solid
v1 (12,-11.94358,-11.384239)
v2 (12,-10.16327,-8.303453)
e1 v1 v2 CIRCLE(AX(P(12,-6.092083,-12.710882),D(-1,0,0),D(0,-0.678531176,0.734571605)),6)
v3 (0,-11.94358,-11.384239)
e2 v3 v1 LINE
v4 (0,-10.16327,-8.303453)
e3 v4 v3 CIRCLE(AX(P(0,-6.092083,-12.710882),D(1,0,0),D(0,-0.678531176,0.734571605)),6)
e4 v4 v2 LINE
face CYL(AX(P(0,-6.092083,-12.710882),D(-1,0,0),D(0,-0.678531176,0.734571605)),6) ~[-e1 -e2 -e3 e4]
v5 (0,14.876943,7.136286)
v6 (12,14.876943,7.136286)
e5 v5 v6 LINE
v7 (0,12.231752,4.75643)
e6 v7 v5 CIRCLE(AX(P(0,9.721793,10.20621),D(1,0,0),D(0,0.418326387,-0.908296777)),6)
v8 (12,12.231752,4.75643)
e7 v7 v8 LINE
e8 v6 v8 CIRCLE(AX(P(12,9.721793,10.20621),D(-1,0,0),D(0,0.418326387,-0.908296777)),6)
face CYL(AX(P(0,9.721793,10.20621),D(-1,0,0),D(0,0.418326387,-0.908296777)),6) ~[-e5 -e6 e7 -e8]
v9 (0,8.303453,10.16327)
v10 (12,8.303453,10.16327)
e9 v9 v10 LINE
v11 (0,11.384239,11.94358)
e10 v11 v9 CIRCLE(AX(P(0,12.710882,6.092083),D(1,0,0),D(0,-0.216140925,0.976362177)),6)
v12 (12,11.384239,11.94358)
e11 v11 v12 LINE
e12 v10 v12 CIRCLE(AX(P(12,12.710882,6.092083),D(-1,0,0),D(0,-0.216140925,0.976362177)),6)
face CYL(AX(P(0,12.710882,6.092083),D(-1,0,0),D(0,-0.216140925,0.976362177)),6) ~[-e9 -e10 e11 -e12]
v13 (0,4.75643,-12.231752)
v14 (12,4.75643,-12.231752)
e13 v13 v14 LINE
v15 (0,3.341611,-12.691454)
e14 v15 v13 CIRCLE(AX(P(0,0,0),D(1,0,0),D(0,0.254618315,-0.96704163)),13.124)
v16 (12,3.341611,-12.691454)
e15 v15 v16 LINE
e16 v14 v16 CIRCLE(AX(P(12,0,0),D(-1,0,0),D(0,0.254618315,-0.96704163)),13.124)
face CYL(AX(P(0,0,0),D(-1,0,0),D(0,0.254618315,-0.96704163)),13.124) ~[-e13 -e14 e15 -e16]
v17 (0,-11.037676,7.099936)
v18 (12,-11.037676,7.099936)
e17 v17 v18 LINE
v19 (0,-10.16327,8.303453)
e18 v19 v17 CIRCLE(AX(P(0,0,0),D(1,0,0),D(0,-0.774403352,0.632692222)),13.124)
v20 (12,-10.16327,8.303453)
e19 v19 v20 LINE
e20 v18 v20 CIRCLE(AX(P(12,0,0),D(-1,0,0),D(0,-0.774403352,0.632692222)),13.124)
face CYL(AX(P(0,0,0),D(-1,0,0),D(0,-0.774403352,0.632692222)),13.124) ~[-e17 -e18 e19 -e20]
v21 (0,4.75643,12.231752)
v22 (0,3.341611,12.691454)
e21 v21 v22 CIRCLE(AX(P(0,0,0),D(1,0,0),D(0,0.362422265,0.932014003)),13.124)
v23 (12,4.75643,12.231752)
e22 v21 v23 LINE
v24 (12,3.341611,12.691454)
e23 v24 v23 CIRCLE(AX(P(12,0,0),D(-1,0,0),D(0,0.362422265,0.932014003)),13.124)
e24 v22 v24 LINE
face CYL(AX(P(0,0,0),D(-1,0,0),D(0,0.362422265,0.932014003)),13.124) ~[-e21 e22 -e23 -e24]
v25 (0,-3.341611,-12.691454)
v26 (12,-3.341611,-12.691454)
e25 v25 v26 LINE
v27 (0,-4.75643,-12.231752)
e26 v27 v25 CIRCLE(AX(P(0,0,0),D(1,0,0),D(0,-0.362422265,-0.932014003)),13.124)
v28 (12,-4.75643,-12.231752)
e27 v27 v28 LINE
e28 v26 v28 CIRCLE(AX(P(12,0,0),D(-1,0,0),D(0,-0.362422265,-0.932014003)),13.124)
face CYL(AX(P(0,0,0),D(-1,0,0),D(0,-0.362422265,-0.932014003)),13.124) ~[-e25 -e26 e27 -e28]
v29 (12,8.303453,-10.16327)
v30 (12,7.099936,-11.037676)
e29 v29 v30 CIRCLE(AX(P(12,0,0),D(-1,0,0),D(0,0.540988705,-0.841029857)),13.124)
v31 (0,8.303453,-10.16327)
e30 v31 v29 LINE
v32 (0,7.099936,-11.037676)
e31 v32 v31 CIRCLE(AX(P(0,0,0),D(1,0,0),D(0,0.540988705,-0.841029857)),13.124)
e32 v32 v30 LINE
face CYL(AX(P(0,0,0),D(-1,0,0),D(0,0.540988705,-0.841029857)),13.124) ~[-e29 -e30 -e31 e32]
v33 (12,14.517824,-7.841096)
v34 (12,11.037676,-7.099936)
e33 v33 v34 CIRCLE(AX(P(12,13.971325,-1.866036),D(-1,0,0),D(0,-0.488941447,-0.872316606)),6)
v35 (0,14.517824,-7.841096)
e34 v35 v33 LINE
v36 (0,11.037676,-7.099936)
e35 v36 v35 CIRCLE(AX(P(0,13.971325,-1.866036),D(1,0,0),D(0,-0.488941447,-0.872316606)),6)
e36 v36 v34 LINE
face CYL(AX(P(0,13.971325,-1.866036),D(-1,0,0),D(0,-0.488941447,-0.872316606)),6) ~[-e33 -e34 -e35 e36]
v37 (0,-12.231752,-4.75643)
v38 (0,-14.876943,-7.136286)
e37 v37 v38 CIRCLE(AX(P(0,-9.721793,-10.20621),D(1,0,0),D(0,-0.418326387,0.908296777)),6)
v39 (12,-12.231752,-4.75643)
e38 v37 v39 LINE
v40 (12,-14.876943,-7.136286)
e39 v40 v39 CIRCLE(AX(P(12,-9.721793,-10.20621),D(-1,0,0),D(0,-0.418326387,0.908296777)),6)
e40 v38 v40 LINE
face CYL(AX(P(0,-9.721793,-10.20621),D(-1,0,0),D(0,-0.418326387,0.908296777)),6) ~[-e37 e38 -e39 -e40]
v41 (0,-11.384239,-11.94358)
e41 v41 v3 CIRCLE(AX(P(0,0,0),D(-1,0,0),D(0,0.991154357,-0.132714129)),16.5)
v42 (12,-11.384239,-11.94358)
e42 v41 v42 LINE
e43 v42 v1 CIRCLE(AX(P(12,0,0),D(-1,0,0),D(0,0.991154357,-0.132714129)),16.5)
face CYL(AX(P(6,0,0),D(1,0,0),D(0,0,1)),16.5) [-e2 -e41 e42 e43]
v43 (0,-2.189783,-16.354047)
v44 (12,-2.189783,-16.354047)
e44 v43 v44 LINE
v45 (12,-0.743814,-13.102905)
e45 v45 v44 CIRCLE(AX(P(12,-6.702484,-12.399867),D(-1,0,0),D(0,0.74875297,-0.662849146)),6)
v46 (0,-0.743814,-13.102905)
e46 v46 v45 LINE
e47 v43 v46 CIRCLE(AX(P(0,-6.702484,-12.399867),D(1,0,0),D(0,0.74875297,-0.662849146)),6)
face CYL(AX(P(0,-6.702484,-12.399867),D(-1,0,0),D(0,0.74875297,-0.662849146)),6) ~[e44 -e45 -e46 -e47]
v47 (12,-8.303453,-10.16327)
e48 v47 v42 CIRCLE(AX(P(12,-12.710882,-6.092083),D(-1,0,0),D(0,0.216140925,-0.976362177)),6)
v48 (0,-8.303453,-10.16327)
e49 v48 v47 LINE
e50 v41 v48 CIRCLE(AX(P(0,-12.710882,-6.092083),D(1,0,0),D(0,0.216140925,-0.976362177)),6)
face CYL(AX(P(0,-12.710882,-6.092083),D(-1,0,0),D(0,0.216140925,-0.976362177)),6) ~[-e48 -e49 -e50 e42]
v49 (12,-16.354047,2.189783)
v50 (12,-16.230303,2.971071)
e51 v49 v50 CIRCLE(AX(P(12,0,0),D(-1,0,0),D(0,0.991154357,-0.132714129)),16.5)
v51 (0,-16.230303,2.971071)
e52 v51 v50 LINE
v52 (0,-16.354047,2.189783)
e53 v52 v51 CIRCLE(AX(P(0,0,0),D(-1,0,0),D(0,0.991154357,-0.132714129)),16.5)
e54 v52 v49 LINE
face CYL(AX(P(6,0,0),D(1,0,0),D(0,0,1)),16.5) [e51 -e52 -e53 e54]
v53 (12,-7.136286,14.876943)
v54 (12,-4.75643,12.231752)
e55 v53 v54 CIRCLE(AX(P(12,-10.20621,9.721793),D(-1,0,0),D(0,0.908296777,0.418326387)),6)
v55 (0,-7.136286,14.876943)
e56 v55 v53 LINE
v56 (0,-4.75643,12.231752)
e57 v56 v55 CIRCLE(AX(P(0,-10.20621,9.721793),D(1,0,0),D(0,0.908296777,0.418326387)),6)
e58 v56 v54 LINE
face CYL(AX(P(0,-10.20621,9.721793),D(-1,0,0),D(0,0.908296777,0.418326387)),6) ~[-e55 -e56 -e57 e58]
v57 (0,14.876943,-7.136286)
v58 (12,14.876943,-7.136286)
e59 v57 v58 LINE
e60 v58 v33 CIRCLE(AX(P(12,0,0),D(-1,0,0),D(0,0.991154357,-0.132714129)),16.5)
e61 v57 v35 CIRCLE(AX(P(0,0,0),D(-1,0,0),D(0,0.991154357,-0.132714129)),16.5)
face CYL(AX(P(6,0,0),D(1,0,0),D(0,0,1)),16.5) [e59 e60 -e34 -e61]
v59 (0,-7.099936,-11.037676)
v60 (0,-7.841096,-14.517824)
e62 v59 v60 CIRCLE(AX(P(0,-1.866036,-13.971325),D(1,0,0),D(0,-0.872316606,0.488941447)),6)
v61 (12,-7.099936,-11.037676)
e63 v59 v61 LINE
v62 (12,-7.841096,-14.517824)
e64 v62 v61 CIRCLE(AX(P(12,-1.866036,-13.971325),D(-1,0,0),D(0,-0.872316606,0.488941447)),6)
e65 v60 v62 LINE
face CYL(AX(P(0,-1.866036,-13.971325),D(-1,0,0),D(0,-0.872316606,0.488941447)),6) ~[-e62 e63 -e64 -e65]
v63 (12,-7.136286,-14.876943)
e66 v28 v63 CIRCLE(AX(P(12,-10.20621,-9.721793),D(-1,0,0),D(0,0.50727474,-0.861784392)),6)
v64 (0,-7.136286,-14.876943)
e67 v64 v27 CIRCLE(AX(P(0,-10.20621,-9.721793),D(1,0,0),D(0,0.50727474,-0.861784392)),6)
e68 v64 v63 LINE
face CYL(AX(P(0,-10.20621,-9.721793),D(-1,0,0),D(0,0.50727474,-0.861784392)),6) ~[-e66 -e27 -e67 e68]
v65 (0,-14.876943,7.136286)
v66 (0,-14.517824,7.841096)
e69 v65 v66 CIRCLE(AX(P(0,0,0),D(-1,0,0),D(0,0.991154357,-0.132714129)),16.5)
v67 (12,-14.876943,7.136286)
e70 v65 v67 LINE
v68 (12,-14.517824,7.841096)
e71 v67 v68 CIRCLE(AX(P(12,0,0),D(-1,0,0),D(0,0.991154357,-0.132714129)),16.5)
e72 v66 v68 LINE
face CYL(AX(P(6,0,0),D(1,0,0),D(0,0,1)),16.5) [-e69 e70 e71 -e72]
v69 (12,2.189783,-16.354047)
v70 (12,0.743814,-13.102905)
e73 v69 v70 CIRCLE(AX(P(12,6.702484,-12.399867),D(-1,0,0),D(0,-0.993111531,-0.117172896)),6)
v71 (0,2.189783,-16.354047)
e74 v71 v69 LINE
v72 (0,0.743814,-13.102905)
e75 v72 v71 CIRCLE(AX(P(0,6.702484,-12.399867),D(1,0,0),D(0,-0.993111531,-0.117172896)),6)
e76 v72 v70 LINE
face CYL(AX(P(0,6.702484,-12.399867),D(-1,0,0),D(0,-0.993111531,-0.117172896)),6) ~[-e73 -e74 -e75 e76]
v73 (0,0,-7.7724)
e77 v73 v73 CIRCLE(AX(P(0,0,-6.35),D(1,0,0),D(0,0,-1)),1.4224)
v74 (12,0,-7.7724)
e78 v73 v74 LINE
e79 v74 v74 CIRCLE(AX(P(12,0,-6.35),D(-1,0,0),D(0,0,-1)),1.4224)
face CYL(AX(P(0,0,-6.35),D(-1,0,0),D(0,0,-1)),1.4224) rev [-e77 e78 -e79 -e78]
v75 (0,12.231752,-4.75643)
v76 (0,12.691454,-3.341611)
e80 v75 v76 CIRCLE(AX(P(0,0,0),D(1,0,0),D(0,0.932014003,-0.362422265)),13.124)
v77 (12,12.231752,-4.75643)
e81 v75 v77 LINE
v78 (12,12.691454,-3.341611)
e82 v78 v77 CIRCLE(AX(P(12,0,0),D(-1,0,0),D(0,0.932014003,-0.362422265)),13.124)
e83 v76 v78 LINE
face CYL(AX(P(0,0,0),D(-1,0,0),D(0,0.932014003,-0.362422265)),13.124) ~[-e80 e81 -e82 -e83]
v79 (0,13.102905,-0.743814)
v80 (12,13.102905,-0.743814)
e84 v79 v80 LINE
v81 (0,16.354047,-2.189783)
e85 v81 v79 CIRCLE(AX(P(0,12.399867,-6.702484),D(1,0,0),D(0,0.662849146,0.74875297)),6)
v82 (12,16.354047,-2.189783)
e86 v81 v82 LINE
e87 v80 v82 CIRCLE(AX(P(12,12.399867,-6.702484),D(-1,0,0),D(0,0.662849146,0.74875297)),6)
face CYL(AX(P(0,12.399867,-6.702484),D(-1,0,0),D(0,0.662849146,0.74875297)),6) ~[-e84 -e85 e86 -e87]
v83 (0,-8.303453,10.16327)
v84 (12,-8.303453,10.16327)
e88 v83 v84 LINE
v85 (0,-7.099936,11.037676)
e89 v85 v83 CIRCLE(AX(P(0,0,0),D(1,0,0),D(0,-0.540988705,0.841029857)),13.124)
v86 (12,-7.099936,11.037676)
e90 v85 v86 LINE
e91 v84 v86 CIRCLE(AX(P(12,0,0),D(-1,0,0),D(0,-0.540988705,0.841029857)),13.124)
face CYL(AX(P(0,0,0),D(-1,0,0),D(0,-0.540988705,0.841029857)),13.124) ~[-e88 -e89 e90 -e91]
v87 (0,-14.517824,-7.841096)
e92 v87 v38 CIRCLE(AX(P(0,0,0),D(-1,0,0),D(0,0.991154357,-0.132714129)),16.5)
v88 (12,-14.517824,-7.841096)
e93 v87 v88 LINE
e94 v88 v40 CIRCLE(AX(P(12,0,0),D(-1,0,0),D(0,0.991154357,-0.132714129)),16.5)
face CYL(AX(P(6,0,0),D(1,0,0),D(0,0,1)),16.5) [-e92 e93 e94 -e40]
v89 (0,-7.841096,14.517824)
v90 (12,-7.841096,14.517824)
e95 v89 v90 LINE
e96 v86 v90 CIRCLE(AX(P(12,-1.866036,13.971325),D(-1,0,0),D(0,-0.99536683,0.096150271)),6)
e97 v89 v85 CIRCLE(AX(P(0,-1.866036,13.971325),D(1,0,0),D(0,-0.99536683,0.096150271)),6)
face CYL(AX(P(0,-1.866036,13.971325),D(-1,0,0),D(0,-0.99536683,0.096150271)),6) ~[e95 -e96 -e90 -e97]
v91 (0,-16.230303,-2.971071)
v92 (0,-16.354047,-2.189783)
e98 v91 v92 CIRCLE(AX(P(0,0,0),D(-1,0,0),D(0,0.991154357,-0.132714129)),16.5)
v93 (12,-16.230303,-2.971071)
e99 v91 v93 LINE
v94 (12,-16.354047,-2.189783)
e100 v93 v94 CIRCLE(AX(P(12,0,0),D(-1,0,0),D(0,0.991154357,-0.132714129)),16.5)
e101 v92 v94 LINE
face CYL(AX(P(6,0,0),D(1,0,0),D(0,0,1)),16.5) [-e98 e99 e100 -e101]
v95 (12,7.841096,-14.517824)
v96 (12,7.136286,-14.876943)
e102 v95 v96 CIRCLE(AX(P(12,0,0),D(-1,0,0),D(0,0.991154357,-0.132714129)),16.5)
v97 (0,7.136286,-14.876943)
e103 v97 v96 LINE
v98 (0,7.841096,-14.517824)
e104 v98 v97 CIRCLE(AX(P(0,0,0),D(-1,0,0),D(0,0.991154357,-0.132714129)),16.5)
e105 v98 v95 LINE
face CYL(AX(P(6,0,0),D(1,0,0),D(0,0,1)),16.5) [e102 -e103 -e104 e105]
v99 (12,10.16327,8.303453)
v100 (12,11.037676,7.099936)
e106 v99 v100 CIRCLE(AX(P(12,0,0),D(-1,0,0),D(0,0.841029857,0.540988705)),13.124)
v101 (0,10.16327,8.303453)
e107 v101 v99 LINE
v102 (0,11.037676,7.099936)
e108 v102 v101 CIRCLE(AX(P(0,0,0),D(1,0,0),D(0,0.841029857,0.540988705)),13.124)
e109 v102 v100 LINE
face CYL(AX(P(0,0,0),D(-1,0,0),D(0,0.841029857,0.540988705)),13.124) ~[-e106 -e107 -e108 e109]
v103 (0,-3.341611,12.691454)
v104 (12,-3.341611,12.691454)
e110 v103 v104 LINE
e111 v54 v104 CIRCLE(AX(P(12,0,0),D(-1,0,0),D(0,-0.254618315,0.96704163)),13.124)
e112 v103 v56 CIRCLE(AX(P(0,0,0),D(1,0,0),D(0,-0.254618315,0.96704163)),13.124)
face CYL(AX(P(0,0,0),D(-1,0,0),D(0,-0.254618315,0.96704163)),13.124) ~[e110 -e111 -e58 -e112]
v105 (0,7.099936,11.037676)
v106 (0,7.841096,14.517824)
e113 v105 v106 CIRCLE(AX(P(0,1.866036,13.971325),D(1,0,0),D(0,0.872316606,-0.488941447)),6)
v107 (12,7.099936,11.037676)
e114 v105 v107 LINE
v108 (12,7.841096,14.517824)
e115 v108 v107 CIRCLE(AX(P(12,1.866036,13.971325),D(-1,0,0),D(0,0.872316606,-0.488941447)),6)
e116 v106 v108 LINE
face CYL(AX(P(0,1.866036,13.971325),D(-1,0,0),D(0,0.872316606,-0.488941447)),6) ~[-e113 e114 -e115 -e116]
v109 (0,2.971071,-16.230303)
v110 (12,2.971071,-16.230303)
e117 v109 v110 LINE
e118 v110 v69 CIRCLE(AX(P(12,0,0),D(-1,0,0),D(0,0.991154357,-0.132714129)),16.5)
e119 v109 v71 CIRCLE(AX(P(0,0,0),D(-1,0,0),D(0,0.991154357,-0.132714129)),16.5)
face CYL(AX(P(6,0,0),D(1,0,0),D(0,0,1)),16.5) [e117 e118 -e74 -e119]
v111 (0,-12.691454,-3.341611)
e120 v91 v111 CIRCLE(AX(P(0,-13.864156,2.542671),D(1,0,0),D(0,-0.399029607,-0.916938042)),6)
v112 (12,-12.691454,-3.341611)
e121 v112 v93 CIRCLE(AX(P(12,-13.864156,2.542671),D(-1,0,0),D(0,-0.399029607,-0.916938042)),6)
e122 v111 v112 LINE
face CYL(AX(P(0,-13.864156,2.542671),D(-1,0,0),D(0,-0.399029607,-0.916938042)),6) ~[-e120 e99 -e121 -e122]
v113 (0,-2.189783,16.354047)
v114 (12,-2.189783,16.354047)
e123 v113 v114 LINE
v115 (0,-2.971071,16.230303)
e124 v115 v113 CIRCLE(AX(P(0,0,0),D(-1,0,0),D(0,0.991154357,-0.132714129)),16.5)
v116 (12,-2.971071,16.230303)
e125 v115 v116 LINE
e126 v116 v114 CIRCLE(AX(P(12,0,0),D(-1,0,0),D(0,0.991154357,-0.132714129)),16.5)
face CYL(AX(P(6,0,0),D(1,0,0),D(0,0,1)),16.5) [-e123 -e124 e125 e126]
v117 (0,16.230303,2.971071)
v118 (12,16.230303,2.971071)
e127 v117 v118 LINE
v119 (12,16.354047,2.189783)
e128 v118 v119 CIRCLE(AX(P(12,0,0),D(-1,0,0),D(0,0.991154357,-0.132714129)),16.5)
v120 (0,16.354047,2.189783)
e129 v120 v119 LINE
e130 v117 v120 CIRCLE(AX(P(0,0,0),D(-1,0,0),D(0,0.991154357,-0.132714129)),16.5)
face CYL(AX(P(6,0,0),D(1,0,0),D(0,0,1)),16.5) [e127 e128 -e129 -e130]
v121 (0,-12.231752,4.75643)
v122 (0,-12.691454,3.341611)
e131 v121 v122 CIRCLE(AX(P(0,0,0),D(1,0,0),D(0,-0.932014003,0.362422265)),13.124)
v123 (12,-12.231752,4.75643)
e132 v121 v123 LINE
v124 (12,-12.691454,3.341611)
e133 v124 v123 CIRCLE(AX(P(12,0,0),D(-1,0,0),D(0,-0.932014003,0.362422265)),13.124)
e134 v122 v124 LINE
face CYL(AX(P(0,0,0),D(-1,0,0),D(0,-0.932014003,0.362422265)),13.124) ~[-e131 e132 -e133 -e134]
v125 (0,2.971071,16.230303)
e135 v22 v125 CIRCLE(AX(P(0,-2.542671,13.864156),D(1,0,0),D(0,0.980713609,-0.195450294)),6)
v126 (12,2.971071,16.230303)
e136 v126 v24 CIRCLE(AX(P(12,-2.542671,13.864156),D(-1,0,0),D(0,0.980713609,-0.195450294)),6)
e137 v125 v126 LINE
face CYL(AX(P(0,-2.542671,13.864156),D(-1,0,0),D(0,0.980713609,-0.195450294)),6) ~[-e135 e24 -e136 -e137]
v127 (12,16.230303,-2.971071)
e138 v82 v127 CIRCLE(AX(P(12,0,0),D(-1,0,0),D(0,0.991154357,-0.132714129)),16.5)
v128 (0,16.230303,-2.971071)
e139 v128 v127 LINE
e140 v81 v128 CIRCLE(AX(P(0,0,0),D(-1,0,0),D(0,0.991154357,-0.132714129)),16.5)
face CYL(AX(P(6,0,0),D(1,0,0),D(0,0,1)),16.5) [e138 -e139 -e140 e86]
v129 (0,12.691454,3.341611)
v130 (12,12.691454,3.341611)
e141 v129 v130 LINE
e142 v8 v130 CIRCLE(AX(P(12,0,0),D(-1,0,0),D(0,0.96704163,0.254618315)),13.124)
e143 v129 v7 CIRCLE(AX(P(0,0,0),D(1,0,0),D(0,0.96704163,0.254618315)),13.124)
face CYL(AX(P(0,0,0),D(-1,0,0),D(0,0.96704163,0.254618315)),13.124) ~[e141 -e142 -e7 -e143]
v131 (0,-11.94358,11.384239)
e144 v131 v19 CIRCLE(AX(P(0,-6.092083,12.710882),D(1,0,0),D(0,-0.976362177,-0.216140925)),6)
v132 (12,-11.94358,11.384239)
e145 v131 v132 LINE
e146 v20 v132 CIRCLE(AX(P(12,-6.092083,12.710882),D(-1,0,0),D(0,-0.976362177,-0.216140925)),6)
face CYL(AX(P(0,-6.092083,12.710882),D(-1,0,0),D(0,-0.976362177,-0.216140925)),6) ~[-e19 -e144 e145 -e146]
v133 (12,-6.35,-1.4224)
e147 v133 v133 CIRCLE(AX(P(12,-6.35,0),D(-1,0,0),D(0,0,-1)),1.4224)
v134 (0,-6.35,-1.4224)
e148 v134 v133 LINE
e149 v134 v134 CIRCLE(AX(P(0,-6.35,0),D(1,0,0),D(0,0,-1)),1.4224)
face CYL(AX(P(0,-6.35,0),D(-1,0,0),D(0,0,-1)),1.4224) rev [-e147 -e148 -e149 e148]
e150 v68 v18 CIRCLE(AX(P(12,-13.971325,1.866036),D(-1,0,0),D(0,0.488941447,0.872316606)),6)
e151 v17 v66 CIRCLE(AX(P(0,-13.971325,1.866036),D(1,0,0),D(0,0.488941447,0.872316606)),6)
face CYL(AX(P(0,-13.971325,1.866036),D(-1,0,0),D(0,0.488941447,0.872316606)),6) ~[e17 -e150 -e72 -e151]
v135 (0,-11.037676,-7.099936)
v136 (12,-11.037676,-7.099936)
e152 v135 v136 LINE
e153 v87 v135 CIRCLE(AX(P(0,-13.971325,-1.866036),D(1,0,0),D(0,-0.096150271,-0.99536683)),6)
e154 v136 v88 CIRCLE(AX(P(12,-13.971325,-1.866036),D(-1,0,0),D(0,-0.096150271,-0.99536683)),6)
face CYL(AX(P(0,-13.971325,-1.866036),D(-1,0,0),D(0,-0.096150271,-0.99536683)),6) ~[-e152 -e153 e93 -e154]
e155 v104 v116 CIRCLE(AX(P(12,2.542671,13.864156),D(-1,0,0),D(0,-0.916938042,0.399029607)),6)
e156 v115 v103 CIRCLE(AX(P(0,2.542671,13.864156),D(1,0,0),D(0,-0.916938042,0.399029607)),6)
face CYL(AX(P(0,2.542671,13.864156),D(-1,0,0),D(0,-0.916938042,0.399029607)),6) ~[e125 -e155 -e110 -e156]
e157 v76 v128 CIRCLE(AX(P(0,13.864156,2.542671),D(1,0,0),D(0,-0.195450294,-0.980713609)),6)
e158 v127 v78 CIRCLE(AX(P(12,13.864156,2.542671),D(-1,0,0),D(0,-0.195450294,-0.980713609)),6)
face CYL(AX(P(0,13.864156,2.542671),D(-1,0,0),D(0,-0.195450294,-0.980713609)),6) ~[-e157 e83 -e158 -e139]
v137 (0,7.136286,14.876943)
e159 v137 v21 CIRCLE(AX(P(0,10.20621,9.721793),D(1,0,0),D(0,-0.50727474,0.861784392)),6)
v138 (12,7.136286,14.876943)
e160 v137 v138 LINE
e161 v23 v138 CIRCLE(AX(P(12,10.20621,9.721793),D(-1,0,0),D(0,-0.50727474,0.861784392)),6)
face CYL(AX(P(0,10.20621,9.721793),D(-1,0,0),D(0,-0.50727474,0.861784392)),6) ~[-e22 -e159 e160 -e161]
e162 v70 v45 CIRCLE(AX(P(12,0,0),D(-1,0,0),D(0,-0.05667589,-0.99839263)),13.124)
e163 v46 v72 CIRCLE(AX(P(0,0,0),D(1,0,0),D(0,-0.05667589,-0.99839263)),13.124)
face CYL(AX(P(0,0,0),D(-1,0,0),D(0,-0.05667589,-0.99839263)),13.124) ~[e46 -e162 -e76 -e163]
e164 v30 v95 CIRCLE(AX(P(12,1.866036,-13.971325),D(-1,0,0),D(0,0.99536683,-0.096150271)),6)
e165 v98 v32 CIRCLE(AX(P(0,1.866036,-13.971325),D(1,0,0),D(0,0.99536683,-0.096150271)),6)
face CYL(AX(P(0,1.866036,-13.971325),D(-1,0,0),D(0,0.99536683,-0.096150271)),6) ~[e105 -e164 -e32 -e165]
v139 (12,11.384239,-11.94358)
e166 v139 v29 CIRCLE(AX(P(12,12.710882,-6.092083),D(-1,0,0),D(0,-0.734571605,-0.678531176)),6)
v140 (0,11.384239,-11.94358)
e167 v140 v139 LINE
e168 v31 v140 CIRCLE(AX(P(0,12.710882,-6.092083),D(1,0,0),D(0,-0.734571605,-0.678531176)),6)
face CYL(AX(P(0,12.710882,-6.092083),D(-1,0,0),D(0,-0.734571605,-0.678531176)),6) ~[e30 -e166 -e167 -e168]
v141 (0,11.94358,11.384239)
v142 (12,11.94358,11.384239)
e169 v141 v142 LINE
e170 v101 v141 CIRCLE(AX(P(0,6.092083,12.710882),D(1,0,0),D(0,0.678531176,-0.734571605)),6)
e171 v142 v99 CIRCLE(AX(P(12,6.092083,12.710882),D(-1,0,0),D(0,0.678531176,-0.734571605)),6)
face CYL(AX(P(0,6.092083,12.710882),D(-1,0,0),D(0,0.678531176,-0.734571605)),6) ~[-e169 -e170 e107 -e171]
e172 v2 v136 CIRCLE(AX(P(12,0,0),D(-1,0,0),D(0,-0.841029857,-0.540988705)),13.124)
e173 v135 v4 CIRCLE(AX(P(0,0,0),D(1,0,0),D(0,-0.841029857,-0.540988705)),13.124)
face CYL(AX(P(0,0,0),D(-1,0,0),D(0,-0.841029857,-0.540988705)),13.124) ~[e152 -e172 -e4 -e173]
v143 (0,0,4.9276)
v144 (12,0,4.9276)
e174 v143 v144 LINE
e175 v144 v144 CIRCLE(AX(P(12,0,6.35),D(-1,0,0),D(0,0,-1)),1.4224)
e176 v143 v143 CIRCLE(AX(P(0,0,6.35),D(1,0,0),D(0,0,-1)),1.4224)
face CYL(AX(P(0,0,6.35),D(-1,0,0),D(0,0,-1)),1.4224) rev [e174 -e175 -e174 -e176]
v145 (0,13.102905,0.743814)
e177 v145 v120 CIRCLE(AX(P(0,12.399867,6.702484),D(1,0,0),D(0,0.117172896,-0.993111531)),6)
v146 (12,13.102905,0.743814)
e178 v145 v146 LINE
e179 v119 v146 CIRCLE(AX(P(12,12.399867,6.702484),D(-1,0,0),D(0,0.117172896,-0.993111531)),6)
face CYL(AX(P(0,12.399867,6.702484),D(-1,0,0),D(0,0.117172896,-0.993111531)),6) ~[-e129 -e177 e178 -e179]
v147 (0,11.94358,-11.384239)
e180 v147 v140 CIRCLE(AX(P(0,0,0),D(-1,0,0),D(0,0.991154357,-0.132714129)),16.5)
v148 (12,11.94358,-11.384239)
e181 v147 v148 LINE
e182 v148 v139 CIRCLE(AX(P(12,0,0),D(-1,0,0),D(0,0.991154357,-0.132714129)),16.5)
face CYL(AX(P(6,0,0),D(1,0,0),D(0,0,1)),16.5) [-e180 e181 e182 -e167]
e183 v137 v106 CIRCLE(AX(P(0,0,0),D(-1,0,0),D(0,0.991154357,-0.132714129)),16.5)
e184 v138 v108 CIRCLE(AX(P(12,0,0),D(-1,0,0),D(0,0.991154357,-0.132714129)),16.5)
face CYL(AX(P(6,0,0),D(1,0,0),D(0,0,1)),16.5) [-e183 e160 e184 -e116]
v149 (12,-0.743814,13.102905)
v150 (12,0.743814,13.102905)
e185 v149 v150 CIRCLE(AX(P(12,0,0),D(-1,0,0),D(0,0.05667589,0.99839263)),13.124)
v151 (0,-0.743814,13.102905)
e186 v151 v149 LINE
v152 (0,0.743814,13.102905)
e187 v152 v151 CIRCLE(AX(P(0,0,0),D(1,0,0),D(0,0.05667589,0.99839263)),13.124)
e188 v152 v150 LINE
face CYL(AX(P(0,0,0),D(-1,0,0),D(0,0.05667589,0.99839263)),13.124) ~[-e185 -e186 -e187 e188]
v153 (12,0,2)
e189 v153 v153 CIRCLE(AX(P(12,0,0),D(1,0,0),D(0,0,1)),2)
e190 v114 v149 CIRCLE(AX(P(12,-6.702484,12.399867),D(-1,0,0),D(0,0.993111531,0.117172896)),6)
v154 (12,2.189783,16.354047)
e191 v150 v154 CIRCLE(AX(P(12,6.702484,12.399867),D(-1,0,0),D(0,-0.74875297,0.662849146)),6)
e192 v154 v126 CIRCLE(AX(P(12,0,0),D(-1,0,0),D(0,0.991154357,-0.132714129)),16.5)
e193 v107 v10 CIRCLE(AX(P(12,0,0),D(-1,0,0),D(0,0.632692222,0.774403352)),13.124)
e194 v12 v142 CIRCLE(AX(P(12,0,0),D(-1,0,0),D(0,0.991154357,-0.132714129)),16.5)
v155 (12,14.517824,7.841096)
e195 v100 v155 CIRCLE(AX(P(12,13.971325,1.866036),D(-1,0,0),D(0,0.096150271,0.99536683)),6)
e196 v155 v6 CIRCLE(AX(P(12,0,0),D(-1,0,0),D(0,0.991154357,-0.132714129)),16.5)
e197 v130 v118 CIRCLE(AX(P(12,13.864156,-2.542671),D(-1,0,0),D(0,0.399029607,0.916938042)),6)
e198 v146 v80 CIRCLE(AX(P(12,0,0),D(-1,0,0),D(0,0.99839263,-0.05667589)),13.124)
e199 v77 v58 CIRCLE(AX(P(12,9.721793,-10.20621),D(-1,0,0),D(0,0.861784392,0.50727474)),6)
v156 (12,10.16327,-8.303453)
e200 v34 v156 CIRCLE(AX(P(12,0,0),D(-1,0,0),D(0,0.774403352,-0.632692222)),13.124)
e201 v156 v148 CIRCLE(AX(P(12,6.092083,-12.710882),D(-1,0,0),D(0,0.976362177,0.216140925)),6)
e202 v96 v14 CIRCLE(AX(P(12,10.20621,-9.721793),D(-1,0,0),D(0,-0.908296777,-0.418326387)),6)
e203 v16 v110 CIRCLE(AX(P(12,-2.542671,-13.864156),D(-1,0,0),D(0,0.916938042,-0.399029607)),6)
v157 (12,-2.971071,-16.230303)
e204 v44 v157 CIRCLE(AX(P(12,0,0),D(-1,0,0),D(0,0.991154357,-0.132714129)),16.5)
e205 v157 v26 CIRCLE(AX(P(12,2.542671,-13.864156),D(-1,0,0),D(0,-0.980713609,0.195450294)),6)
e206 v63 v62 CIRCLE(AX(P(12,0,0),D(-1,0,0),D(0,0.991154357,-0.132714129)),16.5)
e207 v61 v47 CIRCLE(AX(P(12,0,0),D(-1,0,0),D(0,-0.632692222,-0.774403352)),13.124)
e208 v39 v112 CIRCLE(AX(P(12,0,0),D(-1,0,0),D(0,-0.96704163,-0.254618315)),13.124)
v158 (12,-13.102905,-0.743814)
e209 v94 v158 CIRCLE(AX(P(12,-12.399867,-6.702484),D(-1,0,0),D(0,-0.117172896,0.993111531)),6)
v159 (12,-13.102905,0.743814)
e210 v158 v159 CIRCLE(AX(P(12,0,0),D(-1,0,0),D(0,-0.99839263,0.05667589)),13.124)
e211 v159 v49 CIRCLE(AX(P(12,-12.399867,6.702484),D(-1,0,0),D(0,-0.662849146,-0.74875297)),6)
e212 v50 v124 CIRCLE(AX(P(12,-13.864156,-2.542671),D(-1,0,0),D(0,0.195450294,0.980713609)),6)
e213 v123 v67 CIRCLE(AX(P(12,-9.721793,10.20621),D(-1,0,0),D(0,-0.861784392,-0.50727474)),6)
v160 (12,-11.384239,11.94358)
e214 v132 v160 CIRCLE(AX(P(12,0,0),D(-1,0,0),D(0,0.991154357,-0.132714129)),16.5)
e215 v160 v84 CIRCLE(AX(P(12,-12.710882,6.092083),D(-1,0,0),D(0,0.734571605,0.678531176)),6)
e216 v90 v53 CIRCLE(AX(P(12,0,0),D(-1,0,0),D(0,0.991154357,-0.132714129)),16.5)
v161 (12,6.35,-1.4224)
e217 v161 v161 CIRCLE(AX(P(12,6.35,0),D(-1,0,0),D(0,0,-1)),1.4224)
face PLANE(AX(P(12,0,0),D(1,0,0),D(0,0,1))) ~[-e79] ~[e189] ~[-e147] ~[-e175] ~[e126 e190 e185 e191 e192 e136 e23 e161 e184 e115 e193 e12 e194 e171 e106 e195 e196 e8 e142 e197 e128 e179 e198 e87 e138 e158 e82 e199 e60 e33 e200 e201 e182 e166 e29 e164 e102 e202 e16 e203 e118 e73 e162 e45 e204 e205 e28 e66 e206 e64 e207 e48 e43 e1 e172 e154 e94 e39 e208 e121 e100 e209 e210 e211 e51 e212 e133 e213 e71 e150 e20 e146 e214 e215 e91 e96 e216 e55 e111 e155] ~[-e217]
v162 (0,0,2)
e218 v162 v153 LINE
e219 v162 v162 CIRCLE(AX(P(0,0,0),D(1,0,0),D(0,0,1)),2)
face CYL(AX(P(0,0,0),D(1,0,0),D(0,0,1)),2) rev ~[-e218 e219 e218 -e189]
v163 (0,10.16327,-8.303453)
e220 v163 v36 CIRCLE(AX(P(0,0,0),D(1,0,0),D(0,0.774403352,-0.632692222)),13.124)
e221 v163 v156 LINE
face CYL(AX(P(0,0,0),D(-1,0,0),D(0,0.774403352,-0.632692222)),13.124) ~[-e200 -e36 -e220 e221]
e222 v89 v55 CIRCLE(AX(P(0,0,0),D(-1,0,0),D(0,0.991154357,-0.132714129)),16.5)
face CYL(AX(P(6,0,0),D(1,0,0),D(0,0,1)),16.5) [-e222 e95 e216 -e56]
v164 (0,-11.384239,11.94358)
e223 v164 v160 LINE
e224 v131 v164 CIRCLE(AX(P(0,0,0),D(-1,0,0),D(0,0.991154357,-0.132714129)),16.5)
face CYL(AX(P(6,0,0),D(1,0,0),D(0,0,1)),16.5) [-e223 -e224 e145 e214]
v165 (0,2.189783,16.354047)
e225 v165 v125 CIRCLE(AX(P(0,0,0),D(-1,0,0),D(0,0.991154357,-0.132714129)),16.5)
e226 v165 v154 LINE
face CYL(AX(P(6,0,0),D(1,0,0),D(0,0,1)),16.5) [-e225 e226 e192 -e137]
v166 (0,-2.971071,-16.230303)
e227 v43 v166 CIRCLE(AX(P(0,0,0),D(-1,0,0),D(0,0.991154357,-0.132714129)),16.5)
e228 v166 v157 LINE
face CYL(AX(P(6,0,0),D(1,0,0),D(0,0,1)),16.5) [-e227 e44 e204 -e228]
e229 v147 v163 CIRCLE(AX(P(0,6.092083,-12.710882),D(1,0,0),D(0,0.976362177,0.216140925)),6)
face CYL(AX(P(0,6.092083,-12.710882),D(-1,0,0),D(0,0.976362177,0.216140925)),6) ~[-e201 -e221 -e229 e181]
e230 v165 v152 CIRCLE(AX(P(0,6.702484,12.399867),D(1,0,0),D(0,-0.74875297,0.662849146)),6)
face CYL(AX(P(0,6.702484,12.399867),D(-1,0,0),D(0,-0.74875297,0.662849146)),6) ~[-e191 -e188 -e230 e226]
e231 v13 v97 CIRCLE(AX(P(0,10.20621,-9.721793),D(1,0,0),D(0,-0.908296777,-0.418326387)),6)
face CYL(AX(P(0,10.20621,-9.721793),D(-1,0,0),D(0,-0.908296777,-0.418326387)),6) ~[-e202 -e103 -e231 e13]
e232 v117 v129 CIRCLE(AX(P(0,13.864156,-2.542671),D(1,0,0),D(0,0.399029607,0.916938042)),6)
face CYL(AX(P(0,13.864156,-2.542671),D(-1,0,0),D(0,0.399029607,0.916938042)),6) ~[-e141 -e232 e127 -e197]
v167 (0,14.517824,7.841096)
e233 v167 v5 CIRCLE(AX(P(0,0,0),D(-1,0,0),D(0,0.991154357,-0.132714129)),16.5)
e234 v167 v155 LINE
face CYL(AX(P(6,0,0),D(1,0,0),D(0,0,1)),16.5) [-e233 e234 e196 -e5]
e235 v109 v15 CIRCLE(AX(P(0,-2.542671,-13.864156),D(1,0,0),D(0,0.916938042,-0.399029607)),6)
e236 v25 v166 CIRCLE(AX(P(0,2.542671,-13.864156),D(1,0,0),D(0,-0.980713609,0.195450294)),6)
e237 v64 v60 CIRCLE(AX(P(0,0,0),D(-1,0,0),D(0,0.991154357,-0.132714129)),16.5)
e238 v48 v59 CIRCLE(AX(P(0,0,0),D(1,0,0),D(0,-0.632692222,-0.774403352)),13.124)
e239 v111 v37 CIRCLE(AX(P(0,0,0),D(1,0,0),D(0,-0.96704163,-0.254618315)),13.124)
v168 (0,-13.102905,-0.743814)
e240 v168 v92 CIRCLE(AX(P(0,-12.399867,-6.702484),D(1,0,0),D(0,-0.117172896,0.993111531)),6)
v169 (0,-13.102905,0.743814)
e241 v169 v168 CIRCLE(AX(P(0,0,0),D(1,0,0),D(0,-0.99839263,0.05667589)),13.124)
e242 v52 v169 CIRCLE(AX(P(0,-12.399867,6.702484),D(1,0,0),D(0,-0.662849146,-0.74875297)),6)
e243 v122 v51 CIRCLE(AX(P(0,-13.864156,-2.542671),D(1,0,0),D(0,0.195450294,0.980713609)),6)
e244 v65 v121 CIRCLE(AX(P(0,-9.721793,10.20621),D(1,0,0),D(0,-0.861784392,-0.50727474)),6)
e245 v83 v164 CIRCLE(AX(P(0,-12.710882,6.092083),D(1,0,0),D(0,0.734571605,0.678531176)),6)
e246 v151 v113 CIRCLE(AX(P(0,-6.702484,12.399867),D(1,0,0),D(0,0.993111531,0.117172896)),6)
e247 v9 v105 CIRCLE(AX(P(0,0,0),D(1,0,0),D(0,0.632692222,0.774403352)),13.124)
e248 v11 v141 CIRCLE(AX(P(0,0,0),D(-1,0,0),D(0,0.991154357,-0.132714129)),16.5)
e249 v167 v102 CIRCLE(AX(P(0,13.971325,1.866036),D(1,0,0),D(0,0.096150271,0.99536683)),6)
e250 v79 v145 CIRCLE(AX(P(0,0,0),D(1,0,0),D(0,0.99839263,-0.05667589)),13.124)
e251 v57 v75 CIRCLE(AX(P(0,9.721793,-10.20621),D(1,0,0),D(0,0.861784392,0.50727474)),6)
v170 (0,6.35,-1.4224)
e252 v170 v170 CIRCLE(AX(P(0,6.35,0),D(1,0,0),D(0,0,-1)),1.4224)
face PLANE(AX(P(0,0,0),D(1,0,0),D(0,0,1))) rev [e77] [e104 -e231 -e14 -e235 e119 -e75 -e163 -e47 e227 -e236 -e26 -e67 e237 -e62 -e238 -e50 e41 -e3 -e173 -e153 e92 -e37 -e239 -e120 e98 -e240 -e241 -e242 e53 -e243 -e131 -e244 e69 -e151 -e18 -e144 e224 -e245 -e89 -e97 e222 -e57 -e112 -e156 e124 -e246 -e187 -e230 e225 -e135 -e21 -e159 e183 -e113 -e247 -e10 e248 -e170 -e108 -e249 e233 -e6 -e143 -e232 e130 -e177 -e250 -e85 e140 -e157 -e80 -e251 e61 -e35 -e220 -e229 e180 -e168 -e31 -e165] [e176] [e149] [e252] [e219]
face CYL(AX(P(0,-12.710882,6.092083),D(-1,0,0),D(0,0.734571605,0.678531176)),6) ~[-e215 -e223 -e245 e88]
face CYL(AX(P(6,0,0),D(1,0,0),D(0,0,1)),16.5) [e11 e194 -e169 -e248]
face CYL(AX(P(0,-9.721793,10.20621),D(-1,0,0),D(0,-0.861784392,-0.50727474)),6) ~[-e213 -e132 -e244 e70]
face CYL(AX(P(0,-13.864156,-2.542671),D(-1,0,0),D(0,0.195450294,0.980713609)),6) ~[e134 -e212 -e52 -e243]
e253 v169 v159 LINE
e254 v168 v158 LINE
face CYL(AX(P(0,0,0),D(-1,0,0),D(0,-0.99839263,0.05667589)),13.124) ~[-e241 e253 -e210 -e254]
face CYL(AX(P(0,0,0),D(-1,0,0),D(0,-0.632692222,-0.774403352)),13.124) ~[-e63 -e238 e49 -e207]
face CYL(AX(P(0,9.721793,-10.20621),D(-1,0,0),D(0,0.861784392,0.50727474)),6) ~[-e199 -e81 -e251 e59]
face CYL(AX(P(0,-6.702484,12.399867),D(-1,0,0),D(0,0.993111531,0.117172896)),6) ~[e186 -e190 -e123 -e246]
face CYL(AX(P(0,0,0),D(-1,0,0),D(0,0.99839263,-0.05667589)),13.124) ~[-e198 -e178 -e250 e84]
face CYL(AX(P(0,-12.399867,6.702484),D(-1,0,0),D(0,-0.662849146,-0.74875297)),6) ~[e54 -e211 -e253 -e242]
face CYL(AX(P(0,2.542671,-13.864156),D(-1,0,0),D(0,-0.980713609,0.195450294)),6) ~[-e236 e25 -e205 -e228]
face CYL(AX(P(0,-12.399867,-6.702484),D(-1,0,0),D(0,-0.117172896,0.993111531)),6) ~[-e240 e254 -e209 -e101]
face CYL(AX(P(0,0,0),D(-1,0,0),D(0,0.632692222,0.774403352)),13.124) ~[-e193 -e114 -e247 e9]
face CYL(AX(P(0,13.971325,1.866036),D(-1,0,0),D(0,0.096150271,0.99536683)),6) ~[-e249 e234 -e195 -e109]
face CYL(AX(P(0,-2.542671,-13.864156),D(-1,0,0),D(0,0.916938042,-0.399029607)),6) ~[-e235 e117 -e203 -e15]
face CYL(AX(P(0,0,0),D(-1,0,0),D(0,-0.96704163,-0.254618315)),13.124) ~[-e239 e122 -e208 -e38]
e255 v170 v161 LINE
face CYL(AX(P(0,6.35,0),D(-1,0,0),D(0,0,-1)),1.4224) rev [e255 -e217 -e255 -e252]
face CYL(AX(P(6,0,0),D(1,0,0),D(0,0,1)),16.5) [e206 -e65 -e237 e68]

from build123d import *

# Parameters (mm, degrees)
BASPROSKE_W        = 12
BASPROSKE_H        = 16.5
TOOTHCUT_DEPTH     = 27.239283527
TEETHCUTS_COUNT    = 20
TEETHCUTS_ANGLE    = 342
BORSKE_R           = 2
BORE_DEPTH         = 50.0000508
SKETCH1_R          = 1.4224
CUT_EXTRUDE1_DEPTH = 27.055895681


with BuildPart() as part:
    # BasProSke → Base-Revolve (revolve)
    with BuildSketch(Plane(origin=(0, 0, 0), x_dir=(1, 0, 0), z_dir=(0, 1, 0)), mode=Mode.PRIVATE) as base_revolve_sk:
        with Locations((6, 8.25)):
            Rectangle(BASPROSKE_W, BASPROSKE_H)
    revolve(base_revolve_sk.sketch.rotate(Axis((-10, 0, 0), (1, 0, 0)), 180), axis=Axis((-10, 0, 0), (1, 0, 0)))

    # TooCutSke → ToothCut (cut, through all)
    with BuildSketch(Plane(origin=(0, 0, 0), x_dir=(0, 0, -1), z_dir=(1, 0, 0))):
        with BuildLine():
            ThreePointArc((0.74381438, 13.102904875), (0, 13.124), (-0.74381438, 13.102904875))
            ThreePointArc((-0.74381438, 13.102904875), (-1.226473103, 14.852072512), (-2.209965745, 16.376962373))
            ThreePointArc((-2.209965745, 16.376962373), (0, 16.5254), (2.209965745, 16.376962373))
            ThreePointArc((2.209965745, 16.376962373), (1.226473103, 14.852072512), (0.74381438, 13.102904875))
        make_face()
    toothcut = extrude(amount=TOOTHCUT_DEPTH, mode=Mode.SUBTRACT)

    # TeethCuts: ToothCut ×20 about axis
    teethcuts_axis = Axis((-10, 0, 0), (1, 0, 0))
    for i in range(1, TEETHCUTS_COUNT):
        add(toothcut.rotate(teethcuts_axis, i * TEETHCUTS_ANGLE / (TEETHCUTS_COUNT - 1)), mode=Mode.SUBTRACT)

    # BorSke → Bore (cut, symmetric)
    with BuildSketch(Plane(origin=(0, 0, 0), x_dir=(0, 0, -1), z_dir=(1, 0, 0))):
        with Locations(Location((0, 0, 0), (0, 0, 180))):
            Circle(BORSKE_R)
    extrude(amount=BORE_DEPTH, both=True, mode=Mode.SUBTRACT)

    # Sketch1 → Cut-Extrude1 (cut, through all)
    with BuildSketch(Plane(origin=(0, 0, 0), x_dir=(0, 0, -1), z_dir=(1, 0, 0))):
        with Locations((0, 6.35)):
            Circle(SKETCH1_R)
        with Locations((6.35, 0)):
            Circle(SKETCH1_R)
        with Locations((0, -6.35)):
            Circle(SKETCH1_R)
        with Locations((-6.35, 0)):
            Circle(SKETCH1_R)
    extrude(amount=CUT_EXTRUDE1_DEPTH, mode=Mode.SUBTRACT)


solid = part.part
